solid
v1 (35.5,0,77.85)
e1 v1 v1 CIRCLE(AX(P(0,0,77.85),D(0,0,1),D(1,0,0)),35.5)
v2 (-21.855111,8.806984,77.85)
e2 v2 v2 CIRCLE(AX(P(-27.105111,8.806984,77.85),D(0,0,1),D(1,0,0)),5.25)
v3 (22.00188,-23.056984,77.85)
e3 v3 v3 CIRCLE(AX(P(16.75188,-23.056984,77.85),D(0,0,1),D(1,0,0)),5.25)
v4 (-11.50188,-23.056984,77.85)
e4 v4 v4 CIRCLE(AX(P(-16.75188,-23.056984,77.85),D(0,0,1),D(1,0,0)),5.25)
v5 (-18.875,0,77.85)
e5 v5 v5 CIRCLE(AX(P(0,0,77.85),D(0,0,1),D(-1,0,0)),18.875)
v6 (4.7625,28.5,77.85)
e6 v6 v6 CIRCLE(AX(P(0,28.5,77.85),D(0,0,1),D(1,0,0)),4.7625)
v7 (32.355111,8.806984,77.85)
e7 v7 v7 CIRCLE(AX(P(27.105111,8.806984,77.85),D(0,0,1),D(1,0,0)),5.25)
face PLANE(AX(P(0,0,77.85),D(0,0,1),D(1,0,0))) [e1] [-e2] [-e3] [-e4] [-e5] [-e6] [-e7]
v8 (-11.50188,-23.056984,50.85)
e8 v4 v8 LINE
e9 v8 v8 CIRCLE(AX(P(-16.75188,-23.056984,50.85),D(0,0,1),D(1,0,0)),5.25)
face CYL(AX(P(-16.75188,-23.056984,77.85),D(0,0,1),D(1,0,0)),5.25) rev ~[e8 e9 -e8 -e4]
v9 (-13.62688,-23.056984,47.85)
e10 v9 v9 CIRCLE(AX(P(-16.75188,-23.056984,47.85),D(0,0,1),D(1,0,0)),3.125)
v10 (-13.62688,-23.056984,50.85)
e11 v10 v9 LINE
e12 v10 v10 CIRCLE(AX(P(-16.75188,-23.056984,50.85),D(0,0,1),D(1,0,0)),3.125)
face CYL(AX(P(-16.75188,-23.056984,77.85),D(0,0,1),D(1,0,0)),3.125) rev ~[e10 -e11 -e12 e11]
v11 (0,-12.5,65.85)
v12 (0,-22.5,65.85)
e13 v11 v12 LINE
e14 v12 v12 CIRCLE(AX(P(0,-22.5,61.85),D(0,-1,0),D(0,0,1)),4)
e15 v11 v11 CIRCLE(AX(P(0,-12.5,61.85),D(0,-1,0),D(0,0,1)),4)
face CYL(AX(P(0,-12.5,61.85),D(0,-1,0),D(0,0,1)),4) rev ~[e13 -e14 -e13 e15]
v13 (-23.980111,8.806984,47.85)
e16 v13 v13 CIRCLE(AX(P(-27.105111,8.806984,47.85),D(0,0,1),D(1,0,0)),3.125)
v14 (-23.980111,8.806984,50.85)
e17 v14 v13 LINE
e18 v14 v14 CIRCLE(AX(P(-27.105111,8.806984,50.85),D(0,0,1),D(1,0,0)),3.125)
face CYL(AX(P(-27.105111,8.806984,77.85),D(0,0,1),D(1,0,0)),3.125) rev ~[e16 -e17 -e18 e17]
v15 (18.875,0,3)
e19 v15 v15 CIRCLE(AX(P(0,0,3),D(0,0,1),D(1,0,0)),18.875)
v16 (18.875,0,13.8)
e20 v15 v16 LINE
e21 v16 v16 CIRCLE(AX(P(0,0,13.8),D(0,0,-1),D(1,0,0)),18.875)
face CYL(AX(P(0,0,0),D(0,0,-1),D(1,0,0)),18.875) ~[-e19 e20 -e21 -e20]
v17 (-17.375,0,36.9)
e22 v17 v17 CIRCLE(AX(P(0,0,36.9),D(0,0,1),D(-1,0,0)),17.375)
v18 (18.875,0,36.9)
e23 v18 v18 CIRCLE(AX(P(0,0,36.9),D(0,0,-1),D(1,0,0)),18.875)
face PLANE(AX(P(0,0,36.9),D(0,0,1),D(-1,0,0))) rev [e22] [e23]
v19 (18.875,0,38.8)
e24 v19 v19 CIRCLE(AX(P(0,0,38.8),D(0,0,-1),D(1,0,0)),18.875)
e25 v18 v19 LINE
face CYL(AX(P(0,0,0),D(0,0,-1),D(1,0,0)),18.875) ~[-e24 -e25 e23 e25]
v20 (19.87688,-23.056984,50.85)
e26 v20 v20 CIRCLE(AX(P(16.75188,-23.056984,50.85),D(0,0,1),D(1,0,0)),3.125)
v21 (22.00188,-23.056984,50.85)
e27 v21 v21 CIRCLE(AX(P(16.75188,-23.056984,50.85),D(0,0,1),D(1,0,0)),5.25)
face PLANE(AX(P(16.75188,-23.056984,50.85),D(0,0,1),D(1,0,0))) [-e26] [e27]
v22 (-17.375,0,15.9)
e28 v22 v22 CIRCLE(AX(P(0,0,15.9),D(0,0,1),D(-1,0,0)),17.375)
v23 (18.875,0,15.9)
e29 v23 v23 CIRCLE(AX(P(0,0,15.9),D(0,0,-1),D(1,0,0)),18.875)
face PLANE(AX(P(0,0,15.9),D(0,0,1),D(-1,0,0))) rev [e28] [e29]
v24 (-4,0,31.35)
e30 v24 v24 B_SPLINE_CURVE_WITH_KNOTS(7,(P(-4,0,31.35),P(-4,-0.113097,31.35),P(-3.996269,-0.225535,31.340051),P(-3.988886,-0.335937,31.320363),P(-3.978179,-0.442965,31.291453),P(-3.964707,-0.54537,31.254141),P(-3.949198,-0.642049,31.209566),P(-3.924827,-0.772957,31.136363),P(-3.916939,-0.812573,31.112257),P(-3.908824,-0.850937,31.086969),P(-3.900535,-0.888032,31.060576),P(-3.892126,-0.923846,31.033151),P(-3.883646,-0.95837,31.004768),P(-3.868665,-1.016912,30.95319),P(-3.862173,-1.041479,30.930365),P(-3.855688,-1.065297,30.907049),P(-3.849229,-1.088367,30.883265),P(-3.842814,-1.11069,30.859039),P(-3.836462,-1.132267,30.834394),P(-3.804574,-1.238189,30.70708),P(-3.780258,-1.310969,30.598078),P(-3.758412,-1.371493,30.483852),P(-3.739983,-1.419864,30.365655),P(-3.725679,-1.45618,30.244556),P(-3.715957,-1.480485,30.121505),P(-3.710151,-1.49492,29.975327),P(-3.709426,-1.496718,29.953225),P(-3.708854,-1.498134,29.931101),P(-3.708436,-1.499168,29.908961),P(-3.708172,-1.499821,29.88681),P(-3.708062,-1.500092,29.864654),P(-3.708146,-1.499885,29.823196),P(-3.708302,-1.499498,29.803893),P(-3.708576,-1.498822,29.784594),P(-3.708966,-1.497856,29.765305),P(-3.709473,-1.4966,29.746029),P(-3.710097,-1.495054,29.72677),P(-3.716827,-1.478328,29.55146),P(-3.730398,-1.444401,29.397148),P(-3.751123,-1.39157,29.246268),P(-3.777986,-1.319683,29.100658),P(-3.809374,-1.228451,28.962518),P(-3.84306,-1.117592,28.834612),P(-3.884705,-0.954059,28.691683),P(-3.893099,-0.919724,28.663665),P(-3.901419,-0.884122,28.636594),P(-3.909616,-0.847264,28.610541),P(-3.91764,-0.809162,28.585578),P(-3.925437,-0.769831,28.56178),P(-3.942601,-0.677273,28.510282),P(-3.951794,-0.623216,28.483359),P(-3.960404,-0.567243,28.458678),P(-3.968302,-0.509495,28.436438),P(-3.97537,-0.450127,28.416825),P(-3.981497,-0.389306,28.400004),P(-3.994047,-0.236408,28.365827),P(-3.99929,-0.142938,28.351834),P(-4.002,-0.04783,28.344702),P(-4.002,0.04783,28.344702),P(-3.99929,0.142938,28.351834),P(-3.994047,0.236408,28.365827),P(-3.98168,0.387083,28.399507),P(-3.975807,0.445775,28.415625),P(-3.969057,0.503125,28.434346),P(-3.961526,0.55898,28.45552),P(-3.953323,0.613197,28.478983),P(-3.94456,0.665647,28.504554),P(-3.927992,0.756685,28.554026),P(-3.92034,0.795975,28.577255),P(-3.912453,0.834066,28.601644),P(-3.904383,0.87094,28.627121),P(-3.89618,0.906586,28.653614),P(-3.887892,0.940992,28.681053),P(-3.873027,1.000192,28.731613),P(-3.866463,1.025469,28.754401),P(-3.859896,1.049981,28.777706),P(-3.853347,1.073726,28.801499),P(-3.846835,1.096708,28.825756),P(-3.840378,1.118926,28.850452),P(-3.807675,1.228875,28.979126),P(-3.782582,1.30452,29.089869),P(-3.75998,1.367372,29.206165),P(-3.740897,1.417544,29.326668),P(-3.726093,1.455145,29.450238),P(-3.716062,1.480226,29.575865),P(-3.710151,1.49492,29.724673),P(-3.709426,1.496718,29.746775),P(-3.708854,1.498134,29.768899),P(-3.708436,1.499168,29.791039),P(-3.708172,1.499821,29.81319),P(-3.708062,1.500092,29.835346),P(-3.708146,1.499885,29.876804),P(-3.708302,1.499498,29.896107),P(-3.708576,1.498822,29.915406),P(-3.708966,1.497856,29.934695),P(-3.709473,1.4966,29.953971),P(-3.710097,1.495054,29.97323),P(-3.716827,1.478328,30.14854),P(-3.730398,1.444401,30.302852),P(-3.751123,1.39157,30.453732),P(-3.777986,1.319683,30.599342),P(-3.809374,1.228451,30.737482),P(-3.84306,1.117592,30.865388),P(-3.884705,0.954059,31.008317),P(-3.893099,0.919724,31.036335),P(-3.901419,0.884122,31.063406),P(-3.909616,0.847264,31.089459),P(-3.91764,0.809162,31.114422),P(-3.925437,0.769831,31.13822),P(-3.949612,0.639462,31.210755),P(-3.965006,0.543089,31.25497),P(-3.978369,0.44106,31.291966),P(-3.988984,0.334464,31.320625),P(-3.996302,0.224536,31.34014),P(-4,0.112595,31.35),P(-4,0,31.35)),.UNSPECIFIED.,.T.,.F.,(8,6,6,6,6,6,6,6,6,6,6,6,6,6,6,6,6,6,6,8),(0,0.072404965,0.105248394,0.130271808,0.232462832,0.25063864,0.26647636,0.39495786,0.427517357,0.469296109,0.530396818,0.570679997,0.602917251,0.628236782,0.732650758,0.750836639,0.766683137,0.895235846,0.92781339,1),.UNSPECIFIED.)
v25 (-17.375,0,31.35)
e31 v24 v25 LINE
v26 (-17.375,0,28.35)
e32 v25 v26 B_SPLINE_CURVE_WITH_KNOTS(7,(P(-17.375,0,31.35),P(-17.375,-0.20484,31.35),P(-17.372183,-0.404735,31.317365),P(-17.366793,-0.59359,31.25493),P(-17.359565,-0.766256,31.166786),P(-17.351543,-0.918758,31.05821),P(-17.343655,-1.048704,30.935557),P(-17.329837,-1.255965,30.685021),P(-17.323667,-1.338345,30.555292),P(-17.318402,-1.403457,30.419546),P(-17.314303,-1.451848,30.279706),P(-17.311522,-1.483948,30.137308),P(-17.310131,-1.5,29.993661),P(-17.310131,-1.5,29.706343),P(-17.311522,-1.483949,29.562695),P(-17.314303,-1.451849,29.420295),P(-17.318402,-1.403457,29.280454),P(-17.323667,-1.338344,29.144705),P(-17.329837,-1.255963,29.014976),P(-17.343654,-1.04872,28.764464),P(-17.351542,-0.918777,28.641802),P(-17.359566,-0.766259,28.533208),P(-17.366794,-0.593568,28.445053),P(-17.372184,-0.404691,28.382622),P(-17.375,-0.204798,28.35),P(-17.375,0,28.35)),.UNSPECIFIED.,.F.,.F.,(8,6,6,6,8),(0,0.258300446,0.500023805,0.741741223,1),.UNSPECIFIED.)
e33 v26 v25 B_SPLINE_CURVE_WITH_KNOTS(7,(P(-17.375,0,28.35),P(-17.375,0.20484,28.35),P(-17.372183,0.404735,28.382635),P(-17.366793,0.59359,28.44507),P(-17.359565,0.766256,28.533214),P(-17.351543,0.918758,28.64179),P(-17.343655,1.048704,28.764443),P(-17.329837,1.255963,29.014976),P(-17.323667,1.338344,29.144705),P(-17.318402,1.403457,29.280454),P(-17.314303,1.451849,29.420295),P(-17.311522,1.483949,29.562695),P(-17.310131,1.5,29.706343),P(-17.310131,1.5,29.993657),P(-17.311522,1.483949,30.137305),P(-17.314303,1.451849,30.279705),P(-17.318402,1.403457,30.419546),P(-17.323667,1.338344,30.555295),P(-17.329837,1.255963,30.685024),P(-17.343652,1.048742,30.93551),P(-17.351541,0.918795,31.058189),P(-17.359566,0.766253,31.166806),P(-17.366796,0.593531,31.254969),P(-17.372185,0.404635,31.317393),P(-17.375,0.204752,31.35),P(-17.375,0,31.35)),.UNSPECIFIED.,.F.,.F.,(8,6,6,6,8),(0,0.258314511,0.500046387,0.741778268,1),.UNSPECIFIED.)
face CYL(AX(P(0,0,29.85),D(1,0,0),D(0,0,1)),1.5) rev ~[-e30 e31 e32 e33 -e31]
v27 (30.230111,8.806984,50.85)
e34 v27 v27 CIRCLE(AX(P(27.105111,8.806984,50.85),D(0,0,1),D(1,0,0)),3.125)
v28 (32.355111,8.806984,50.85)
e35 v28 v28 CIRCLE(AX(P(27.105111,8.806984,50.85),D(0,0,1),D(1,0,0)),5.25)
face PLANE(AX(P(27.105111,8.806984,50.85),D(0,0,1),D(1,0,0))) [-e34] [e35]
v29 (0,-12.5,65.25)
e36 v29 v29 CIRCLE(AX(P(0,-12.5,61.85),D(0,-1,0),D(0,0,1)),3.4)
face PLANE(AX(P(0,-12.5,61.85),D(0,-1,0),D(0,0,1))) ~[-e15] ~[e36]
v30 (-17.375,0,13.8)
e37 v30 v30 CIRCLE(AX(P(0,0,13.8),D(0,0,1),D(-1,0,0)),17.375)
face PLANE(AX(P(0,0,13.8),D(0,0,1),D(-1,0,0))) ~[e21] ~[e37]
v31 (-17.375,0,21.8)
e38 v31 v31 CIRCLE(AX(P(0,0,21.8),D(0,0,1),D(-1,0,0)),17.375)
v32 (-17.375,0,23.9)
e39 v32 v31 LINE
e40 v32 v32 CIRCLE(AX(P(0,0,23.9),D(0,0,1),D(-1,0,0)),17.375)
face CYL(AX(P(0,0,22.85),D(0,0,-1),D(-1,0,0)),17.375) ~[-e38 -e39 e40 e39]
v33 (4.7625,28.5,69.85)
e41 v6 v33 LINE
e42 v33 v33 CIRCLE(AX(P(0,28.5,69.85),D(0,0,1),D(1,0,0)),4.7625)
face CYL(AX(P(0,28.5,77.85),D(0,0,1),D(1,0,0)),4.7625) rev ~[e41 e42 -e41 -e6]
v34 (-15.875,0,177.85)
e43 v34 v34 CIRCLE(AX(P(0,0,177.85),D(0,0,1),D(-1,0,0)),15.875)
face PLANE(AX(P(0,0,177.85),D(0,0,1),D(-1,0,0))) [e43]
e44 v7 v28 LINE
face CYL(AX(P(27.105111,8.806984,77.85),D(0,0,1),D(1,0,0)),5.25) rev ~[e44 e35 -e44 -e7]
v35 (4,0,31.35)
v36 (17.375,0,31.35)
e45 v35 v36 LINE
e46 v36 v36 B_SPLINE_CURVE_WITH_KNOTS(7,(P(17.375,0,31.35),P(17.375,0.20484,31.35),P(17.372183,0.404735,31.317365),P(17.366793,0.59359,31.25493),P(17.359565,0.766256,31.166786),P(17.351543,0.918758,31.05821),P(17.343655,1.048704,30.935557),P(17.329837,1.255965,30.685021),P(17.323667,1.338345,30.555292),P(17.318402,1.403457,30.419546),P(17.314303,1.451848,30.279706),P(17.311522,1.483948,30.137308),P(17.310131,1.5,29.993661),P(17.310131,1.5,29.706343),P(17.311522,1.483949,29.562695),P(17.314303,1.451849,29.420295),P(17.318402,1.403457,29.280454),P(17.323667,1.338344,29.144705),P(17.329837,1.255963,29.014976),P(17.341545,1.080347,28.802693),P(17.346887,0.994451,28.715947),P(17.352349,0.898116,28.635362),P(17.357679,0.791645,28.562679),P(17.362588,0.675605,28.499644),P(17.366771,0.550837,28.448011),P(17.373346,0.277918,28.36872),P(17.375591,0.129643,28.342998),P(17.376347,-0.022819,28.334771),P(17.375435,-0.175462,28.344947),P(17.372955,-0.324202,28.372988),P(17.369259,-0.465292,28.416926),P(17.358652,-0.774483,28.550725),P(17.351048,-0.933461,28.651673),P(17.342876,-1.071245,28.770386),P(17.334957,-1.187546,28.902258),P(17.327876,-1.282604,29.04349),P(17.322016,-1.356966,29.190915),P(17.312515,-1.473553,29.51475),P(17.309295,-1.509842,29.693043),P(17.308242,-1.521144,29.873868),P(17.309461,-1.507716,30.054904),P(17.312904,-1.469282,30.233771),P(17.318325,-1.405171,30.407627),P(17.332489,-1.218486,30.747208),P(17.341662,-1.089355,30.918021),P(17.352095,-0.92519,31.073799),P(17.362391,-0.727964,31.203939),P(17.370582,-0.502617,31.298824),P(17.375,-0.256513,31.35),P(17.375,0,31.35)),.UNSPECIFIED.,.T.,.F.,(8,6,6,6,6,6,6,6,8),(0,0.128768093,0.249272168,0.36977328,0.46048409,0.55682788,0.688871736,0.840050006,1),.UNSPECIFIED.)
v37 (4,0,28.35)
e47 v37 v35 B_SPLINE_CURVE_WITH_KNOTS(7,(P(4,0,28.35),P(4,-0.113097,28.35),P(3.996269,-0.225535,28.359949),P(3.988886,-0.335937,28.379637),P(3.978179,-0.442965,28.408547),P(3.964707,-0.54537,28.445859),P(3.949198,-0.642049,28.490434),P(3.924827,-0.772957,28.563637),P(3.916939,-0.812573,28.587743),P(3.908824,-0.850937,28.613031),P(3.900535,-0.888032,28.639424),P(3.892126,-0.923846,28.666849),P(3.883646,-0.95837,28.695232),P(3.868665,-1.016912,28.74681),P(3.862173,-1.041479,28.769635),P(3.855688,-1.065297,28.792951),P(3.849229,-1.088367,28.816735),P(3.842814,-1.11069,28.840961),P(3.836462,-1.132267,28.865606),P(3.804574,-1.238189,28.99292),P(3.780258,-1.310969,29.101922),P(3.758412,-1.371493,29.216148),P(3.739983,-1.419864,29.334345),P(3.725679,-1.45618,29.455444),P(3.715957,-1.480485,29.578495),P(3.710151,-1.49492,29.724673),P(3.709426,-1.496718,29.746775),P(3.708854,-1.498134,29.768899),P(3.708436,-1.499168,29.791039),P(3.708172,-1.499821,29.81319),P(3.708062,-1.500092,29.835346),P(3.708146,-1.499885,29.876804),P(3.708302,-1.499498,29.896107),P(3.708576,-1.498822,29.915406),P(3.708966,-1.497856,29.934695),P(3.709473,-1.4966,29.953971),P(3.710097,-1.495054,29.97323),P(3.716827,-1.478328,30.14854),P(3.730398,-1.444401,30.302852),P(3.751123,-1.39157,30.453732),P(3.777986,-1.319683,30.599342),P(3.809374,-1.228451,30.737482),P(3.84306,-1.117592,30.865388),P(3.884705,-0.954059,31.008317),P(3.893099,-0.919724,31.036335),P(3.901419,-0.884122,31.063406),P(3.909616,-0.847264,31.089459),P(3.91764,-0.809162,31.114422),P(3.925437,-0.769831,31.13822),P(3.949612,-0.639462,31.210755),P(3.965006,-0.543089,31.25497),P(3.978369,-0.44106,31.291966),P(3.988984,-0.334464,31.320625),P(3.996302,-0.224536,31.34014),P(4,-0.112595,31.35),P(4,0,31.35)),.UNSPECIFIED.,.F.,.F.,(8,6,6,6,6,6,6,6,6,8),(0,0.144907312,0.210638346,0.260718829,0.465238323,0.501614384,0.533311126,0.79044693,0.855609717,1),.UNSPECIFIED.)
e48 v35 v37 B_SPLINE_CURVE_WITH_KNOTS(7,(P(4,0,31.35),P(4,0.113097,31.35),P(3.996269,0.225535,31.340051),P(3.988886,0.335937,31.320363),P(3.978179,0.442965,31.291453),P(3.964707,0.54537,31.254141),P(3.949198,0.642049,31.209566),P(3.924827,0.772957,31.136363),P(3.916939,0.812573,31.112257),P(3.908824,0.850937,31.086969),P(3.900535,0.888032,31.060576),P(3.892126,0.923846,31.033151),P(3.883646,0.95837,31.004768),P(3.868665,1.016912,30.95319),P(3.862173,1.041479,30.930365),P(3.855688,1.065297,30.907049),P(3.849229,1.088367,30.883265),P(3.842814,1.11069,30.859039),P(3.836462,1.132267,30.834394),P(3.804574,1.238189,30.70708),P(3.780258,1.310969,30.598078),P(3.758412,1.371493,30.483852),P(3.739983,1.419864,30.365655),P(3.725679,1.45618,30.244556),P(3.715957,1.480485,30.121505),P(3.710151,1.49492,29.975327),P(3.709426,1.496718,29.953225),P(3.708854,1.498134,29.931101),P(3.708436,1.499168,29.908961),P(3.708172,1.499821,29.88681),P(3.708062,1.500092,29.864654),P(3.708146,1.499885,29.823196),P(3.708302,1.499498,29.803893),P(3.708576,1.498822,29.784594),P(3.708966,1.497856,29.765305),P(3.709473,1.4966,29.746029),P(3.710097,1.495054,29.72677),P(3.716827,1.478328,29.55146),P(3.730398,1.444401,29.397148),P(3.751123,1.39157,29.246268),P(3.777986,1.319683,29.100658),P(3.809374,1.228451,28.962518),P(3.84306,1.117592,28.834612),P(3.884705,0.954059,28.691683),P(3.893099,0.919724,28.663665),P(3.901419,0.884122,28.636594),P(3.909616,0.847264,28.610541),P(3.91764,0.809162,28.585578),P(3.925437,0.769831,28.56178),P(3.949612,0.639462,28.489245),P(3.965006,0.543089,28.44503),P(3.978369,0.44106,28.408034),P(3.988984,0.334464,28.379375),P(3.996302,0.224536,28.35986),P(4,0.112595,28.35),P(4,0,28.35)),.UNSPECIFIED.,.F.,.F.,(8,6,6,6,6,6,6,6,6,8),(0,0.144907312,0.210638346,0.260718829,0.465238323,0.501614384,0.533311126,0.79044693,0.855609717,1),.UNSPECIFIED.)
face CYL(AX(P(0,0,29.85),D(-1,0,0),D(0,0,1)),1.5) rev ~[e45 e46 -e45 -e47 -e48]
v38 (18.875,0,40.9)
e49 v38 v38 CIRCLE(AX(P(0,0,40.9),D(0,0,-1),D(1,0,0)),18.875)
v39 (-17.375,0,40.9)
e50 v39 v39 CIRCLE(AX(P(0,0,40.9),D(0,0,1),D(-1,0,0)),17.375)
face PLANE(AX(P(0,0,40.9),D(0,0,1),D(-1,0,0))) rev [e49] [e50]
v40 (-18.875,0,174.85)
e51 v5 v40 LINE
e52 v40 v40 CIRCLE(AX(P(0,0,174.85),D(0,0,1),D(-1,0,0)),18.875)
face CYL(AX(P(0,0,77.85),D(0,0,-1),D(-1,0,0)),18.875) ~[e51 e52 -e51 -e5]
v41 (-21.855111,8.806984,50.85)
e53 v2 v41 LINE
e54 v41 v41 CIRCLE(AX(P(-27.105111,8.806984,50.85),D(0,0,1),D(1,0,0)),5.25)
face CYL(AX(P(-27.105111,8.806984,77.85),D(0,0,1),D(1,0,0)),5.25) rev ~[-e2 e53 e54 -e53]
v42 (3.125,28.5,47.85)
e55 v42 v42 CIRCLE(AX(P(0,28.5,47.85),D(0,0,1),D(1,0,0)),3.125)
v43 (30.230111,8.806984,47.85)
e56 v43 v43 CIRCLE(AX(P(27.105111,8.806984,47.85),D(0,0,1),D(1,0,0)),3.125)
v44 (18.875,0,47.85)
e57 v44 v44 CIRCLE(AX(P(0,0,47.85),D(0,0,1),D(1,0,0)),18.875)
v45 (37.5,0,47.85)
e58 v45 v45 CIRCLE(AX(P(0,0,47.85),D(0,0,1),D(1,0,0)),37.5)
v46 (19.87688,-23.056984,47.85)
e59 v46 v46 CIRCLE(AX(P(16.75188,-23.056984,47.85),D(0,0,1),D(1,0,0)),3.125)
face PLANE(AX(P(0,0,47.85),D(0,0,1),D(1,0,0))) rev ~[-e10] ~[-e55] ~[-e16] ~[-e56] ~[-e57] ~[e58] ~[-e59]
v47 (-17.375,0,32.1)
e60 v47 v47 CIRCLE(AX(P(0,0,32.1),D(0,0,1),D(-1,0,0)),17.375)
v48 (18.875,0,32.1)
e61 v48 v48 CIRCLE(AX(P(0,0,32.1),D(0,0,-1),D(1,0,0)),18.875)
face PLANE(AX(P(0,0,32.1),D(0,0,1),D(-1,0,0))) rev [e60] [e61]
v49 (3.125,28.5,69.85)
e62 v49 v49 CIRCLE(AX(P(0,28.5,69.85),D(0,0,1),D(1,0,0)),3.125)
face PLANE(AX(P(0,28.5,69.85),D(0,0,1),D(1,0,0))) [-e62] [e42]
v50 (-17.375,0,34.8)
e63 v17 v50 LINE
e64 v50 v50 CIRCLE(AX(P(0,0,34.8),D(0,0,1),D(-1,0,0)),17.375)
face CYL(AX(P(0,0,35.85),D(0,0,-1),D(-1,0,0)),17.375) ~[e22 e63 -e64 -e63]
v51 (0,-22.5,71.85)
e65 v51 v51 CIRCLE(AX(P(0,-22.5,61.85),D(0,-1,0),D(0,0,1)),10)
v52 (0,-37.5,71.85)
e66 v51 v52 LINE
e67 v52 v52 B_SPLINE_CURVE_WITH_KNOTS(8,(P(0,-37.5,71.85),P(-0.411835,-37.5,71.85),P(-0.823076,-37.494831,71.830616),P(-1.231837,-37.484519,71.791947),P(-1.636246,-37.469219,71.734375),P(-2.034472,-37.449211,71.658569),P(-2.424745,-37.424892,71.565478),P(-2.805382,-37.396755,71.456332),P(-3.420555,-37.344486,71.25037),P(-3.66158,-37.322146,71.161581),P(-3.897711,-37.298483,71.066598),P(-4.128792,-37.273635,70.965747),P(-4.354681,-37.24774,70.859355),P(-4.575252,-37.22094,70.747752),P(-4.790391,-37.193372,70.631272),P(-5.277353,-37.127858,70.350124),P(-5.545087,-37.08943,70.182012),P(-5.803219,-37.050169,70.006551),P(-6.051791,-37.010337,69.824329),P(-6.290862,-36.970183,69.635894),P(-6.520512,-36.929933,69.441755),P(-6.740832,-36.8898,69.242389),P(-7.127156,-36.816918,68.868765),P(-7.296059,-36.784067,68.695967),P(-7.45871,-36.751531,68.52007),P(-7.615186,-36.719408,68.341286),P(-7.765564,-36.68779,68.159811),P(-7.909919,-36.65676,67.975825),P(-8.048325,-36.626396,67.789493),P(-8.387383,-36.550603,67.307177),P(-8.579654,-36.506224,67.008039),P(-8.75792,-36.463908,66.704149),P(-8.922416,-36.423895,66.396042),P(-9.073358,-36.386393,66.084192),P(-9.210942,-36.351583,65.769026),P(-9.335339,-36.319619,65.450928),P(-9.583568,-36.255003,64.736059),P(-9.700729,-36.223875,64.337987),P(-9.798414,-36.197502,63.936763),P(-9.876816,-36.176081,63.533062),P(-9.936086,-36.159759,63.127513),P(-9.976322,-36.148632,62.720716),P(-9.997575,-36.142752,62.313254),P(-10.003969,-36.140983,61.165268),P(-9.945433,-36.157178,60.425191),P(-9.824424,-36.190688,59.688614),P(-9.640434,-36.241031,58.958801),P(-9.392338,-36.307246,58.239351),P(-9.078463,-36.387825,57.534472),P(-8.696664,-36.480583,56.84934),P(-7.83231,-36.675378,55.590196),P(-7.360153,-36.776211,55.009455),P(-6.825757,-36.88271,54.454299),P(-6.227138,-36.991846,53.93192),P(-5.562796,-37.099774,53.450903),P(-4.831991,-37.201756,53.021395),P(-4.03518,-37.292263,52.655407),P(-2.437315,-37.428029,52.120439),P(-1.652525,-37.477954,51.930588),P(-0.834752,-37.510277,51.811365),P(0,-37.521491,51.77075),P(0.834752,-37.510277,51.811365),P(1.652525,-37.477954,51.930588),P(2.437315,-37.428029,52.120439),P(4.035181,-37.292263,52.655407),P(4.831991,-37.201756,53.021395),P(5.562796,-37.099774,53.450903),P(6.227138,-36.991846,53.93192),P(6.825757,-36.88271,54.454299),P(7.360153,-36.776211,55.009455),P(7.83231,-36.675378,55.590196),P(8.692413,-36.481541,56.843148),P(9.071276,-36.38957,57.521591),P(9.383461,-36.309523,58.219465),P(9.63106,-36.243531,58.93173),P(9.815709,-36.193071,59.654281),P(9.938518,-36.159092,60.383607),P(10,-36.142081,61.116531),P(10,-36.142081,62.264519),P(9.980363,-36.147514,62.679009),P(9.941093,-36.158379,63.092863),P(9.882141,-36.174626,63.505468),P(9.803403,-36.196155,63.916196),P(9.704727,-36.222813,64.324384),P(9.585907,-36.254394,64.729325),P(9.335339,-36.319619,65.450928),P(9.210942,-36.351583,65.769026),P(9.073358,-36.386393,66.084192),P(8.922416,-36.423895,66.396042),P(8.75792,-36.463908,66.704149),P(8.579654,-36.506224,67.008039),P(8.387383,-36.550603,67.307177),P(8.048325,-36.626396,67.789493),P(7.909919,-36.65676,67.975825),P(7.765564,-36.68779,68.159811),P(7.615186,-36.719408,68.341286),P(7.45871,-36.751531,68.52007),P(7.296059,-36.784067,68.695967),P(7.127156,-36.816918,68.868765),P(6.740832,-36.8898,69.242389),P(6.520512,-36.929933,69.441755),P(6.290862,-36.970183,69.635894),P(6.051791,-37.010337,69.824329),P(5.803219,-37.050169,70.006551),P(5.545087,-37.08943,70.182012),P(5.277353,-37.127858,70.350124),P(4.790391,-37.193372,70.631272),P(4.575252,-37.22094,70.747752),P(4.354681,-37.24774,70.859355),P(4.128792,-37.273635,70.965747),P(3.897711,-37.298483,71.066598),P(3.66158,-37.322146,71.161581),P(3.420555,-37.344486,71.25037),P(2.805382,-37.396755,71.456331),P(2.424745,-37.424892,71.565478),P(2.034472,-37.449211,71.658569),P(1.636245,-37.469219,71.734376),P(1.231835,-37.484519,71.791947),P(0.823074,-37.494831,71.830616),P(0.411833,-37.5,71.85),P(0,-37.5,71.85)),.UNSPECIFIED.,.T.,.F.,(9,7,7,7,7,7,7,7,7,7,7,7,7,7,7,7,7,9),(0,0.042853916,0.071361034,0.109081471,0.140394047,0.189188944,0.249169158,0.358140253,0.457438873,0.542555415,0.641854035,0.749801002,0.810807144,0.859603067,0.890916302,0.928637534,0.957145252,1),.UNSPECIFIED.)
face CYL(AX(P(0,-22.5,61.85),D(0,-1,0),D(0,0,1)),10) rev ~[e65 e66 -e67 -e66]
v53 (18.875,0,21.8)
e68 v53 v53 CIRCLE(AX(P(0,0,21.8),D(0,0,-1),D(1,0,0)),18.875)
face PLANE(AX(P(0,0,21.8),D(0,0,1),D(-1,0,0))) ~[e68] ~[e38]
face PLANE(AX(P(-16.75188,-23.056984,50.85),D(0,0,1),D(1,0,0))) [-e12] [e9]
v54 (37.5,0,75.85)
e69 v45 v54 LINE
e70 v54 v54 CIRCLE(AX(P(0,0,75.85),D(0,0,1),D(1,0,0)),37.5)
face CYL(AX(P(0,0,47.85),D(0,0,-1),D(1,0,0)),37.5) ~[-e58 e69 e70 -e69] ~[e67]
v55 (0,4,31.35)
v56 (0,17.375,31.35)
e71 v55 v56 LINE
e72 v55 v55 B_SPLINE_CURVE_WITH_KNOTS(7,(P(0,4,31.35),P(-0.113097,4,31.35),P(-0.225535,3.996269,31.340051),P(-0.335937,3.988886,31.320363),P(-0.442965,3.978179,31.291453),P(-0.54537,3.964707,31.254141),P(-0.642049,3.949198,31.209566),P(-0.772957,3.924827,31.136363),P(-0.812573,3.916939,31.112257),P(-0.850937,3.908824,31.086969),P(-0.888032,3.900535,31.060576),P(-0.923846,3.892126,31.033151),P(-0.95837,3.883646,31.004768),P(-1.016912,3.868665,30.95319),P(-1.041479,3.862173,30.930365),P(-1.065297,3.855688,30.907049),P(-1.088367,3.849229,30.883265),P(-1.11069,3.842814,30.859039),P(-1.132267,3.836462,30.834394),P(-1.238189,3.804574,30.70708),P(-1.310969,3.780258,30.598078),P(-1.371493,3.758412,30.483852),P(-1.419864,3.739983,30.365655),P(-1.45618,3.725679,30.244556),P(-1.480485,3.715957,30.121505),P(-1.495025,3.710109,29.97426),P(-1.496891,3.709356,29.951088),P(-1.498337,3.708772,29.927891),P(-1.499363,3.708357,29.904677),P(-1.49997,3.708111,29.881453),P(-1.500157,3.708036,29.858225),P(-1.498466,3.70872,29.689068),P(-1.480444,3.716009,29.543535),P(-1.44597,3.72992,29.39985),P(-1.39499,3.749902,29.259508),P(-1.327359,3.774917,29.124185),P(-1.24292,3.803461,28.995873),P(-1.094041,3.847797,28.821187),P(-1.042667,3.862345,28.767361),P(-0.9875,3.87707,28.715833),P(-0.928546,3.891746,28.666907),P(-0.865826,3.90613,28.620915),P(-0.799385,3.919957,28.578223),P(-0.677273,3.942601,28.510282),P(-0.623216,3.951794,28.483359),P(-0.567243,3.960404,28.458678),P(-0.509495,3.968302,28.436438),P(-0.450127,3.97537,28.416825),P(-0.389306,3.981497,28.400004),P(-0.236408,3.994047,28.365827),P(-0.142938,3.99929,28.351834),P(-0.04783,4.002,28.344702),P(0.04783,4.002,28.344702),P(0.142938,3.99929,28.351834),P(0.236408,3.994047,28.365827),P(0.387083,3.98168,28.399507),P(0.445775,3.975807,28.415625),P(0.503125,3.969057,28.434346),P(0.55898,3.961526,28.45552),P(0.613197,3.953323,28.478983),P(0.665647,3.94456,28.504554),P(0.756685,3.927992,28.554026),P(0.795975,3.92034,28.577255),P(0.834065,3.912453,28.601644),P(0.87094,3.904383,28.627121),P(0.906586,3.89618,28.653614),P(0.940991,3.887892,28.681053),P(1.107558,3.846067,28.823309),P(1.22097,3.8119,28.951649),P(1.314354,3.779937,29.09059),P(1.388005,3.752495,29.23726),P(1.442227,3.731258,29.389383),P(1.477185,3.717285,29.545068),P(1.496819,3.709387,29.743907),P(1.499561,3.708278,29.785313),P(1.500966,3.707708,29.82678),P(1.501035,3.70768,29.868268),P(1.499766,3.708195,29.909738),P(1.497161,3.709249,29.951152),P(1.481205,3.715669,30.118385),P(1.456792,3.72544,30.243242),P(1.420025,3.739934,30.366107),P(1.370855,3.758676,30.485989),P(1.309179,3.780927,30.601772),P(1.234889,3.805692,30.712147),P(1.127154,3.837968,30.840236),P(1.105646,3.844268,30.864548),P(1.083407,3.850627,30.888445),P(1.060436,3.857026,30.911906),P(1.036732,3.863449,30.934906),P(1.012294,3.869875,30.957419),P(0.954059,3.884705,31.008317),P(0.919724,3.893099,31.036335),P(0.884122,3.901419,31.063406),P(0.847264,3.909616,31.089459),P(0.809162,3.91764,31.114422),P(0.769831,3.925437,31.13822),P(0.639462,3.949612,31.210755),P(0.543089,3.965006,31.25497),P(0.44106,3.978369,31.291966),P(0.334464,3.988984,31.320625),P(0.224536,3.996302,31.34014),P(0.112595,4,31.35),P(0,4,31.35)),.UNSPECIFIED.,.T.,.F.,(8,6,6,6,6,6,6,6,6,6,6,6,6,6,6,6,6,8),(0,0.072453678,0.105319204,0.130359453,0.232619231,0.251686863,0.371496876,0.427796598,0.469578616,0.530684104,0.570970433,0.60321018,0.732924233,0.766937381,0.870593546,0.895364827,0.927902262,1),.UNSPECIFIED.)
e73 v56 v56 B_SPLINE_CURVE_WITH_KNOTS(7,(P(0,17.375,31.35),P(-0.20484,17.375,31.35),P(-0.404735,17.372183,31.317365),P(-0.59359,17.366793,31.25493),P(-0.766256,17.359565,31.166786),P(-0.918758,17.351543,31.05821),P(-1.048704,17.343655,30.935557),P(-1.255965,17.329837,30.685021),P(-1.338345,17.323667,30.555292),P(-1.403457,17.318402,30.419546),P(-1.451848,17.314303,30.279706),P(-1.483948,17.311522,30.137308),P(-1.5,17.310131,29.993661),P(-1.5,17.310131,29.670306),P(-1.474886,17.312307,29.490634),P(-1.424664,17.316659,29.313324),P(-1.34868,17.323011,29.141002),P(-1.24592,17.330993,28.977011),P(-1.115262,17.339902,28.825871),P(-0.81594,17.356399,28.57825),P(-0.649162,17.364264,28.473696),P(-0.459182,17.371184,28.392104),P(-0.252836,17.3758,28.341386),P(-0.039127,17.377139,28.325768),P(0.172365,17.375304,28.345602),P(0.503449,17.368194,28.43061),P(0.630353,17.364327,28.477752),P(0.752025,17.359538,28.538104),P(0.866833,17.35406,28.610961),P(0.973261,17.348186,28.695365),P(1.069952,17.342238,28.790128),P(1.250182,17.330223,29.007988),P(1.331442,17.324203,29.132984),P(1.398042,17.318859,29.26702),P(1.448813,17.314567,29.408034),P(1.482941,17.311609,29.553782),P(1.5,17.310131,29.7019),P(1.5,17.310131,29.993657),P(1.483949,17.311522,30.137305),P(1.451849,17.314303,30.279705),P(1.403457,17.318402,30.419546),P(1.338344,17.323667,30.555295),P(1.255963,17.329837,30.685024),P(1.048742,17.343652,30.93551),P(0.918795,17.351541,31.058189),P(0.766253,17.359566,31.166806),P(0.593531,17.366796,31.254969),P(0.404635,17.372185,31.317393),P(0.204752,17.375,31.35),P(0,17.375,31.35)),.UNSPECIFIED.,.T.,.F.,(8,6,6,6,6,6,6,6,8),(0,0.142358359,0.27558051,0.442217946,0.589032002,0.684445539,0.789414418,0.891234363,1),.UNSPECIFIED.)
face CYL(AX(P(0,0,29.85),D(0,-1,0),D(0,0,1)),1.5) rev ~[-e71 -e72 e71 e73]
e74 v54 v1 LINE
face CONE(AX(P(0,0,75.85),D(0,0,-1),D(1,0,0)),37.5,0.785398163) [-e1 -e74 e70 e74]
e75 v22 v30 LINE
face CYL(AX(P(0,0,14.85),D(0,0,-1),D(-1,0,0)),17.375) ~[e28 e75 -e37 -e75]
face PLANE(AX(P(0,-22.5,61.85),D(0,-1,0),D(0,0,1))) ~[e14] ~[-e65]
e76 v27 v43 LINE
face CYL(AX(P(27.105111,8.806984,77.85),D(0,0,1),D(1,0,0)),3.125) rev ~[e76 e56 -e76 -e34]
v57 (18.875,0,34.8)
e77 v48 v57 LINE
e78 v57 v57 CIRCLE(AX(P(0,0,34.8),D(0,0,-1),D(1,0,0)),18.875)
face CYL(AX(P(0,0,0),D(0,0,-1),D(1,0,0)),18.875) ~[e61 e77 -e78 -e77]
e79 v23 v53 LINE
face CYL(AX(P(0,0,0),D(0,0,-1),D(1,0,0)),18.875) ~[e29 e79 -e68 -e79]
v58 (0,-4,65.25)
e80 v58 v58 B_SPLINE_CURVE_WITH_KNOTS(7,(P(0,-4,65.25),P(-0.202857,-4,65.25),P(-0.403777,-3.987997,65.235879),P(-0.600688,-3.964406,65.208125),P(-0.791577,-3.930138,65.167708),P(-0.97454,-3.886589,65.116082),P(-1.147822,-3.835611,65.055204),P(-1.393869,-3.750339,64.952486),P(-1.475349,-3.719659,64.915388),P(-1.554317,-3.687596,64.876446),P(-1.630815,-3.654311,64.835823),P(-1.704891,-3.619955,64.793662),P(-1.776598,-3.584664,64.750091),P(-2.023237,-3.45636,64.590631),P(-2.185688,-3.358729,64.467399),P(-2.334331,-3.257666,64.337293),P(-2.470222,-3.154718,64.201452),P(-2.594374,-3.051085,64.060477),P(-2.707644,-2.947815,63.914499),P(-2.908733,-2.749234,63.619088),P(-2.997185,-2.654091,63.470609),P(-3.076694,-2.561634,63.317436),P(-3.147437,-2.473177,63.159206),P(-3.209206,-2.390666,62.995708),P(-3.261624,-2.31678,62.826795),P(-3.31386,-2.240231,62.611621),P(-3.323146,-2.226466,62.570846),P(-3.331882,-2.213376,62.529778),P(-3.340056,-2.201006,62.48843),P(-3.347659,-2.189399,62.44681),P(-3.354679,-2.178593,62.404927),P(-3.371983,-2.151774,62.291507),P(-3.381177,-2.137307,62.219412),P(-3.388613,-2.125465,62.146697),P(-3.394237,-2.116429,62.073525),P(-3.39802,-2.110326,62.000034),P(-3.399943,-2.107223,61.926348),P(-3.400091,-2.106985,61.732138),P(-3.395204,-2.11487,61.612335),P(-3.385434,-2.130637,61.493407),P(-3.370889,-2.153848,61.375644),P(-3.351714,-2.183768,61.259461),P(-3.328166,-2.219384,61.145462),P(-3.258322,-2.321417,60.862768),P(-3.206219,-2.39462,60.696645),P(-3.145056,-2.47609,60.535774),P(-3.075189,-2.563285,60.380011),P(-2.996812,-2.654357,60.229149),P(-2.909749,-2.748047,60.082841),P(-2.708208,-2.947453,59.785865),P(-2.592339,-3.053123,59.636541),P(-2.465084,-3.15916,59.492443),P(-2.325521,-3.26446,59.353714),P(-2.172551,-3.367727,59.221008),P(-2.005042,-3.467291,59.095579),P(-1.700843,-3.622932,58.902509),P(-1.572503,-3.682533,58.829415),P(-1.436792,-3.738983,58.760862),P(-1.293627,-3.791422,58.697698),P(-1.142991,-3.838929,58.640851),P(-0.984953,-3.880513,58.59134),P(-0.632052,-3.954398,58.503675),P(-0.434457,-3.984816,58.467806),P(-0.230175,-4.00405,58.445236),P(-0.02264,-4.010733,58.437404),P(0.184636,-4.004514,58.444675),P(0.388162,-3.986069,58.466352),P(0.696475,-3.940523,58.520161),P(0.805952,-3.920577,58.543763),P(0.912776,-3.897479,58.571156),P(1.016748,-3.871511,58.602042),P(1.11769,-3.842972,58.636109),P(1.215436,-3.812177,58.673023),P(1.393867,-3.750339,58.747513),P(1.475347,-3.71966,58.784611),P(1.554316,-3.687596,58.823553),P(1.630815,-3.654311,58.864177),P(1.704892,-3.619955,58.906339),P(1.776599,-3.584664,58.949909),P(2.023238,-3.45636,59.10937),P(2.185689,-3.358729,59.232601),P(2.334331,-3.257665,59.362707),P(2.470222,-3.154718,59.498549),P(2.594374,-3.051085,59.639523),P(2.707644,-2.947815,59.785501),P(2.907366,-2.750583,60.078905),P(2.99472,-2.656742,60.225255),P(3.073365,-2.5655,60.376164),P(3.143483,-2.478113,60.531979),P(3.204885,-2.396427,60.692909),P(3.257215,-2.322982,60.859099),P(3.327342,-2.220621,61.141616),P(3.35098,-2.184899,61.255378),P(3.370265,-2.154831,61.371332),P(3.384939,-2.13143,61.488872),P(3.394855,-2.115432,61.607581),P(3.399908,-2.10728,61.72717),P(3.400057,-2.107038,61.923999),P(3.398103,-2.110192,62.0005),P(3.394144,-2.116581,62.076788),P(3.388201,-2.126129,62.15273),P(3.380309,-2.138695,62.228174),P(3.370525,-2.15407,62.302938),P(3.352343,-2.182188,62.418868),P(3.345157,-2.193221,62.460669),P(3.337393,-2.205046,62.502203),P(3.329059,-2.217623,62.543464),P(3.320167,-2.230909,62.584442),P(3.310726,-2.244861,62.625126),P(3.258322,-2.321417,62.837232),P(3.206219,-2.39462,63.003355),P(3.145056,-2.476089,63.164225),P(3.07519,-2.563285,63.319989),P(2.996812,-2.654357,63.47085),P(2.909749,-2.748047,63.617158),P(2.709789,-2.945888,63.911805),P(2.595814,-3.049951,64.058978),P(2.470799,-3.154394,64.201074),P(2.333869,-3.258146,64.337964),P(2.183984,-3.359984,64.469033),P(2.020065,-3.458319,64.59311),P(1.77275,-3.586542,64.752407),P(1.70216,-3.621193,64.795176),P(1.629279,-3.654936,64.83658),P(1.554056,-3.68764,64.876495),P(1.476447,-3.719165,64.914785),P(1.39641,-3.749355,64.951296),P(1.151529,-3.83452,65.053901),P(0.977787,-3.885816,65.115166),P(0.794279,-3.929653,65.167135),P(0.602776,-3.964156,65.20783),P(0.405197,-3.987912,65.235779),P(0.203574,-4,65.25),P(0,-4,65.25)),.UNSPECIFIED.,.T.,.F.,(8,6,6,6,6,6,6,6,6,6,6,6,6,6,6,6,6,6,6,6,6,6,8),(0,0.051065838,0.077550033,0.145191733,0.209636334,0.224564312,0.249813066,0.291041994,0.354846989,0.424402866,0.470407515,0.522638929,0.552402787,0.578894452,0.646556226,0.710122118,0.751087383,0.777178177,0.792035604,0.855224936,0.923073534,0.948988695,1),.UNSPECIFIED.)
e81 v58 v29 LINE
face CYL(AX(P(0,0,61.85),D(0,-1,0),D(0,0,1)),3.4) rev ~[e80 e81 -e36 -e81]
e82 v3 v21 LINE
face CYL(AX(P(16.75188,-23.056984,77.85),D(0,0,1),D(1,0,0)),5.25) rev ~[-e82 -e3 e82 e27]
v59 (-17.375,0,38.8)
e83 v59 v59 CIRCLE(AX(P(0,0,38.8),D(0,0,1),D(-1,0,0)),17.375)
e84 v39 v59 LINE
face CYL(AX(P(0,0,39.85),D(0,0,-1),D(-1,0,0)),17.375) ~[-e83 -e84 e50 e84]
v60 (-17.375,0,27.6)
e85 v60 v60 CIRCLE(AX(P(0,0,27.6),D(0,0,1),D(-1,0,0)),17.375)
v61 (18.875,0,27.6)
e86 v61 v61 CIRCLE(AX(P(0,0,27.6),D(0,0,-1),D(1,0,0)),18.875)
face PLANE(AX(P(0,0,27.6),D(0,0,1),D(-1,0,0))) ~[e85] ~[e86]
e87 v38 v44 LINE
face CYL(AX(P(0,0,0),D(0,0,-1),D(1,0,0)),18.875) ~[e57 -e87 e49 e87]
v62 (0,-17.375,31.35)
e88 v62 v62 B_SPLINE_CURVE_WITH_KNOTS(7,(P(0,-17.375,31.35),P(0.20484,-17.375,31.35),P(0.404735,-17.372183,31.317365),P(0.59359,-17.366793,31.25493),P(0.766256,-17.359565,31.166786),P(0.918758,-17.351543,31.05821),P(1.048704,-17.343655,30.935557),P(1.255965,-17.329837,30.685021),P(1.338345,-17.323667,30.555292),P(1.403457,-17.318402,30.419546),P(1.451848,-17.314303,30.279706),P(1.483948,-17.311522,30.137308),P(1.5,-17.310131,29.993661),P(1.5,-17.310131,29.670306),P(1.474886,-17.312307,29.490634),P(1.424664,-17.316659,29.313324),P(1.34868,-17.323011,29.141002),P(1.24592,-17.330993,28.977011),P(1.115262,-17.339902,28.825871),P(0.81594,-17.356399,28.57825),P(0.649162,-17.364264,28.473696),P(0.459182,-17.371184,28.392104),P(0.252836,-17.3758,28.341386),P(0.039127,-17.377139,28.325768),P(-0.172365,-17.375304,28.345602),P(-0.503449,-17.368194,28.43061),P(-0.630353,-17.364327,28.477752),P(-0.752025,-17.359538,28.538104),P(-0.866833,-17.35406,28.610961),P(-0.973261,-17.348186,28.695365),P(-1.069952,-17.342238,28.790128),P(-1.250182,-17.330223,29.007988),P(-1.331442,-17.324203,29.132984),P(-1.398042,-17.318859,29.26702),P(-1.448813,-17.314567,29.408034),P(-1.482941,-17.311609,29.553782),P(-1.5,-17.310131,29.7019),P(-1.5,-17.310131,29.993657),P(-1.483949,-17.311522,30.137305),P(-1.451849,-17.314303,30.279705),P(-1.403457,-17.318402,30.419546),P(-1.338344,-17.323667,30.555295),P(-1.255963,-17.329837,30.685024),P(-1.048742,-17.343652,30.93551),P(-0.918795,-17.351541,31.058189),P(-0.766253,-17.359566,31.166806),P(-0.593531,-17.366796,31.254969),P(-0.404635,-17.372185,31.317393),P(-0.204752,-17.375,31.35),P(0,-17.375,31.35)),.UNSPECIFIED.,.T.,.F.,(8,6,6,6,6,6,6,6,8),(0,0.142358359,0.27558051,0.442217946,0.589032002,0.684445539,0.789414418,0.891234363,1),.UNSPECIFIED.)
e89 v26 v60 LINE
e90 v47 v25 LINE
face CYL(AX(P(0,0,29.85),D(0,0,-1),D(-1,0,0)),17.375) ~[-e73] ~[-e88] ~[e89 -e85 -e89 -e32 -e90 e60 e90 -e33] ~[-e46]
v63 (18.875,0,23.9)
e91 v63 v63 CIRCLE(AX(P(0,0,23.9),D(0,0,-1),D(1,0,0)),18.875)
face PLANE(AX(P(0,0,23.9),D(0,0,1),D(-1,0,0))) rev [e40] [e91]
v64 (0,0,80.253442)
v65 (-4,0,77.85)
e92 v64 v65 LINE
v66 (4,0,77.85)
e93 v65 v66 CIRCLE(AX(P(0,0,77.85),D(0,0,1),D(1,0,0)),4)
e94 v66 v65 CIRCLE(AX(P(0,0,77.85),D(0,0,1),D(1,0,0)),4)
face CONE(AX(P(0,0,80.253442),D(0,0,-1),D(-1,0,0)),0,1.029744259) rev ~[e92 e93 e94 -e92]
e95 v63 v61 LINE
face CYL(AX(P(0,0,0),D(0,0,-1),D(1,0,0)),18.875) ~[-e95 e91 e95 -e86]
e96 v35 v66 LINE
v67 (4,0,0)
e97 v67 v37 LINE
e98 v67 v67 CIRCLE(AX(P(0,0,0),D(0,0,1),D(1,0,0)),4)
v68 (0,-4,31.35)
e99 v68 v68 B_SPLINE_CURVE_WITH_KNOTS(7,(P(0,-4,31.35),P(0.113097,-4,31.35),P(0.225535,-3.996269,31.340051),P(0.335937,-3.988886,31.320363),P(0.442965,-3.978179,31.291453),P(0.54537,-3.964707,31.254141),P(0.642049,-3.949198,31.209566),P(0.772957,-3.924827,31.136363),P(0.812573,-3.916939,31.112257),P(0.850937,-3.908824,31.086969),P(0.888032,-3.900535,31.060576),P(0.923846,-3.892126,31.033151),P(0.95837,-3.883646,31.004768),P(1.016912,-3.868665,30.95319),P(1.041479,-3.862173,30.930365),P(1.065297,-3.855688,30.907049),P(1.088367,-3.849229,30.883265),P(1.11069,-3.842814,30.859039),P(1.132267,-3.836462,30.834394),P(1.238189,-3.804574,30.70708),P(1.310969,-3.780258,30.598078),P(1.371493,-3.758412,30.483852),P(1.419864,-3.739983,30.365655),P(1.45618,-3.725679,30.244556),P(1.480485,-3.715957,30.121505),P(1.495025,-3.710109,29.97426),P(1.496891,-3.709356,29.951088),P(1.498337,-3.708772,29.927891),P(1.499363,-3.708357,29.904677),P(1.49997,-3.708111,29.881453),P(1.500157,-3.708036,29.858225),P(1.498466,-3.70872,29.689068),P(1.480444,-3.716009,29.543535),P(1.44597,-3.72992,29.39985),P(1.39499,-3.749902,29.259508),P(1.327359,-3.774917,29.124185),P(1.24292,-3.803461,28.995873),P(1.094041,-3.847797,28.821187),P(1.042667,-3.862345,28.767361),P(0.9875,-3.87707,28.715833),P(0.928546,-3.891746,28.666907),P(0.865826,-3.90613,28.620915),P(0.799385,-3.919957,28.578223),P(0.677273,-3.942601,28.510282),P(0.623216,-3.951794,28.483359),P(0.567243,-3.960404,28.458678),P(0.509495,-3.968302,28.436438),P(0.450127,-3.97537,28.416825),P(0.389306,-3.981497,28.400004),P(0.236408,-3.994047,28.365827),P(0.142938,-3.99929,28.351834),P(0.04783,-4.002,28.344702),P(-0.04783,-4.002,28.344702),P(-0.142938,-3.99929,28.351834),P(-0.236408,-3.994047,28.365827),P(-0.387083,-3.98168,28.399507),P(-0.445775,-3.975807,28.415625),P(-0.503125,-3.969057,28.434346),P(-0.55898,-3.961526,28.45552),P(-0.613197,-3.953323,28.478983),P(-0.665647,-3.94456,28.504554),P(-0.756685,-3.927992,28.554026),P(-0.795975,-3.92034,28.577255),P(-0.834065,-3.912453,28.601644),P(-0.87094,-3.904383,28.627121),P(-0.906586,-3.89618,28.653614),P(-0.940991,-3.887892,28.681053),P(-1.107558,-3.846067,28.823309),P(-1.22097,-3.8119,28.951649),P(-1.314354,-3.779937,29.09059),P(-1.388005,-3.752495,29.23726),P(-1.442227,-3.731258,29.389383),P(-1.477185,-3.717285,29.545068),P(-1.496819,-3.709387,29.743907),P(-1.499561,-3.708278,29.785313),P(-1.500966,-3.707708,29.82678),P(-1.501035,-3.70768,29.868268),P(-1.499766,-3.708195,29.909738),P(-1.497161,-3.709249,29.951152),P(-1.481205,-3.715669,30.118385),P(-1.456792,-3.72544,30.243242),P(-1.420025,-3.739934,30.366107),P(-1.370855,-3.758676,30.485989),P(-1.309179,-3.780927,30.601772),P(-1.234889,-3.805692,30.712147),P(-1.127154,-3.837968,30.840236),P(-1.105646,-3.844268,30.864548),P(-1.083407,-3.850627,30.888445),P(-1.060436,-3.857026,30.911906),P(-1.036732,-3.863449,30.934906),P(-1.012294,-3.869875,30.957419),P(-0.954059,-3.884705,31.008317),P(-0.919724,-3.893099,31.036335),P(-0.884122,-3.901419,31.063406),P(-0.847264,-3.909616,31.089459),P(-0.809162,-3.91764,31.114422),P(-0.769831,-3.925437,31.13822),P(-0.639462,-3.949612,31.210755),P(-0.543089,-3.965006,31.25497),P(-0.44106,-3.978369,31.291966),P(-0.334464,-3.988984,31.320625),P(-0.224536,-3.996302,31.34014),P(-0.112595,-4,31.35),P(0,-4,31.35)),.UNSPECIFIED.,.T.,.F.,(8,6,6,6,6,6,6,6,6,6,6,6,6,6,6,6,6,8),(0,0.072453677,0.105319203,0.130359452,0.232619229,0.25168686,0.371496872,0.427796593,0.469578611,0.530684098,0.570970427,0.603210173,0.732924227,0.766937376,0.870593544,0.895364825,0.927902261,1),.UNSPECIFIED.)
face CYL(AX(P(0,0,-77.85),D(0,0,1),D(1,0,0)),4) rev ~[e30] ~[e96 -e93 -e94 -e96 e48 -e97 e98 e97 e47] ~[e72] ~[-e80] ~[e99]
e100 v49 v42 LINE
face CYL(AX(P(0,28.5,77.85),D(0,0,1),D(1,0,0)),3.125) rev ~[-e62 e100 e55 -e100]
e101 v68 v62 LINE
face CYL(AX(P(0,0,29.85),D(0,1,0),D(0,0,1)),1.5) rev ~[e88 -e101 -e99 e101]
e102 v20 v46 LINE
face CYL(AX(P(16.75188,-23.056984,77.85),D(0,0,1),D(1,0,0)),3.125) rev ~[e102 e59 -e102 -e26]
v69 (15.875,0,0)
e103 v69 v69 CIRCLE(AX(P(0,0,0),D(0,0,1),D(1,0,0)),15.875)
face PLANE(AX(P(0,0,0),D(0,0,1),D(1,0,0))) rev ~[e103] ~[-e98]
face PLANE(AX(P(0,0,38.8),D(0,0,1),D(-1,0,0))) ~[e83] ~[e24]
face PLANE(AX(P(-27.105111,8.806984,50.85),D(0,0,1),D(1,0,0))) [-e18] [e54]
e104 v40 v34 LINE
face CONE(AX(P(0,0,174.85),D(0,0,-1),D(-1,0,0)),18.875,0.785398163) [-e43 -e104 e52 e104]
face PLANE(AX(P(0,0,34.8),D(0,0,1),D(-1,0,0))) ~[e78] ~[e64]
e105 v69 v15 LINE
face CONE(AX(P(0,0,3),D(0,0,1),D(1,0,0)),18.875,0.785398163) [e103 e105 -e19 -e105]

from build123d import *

# Parameters (mm, degrees)
SKETCH1_R                 = 18.875
BOSS_EXTRUDE1_DEPTH       = 47.85
SKETCH2_R                 = 37.5
BOSS_EXTRUDE2_DEPTH       = 30
SKETCH11_R                = 3.125
CUT_EXTRUDE4_DEPTH        = 30
SKETCH12_R                = 4.7625
CUT_EXTRUDE5_DEPTH        = 8
SKETCH13_W                = 2.1
SKETCH13_H                = 3
SKETCH13_W_2              = 4.5
SKETCH13_H_2              = 2.2
SKETCH18_R                = 3.125
CUT_EXTRUDE8_DEPTH        = 30
SKETCH19_R                = 5.25
CUT_EXTRUDE9_DEPTH        = 27
CHAMFER1_SIZE             = 2
SKETCH20_R                = 18.875
BOSS_EXTRUDE3_DEPTH       = 100
F_8_0MM_DOWEL_HOLE1_D     = 8
F_8_0MM_DOWEL_HOLE1_DEPTH = 77.85
F_8_0MM_DOWEL_HOLE1_TIP   = 2.403442476
CHAMFER2_SIZE             = 3
SKETCH26_R                = 1.5
CUT_EXTRUDE10_DEPTH       = 186.58858401
CIRPATTERN1_COUNT         = 4


with BuildPart() as part:
    # Sketch1 → Boss-Extrude1 (new body)
    with BuildSketch(Plane.XY):
        Circle(SKETCH1_R)
    extrude(amount=BOSS_EXTRUDE1_DEPTH)

    # Sketch2 → Boss-Extrude2 (add)
    with BuildSketch(Plane.XY.offset(47.85)):
        Circle(SKETCH2_R)
    extrude(amount=BOSS_EXTRUDE2_DEPTH)

    # Sketch11 → Cut-Extrude4 (cut)
    with BuildSketch(Plane.XY.offset(77.85)):
        with Locations((0, 28.5)):
            Circle(SKETCH11_R)
    extrude(amount=-CUT_EXTRUDE4_DEPTH, mode=Mode.SUBTRACT)

    # Sketch12 → Cut-Extrude5 (cut)
    with BuildSketch(Plane.XY.offset(77.85)):
        with Locations((0, 28.5)):
            Circle(SKETCH12_R)
    extrude(amount=-CUT_EXTRUDE5_DEPTH, mode=Mode.SUBTRACT)

    # Sketch13 → Cut-Revolve1 (revolve, cut)
    with BuildSketch(Plane(origin=(0, 0, 0), x_dir=(0, 0, -1), z_dir=(1, 0, 0)), mode=Mode.PRIVATE) as cut_revolve1_sk:
        with Locations((-14.85, 18.875)):
            Rectangle(SKETCH13_W, SKETCH13_H)
        with Locations((-22.85, 18.875)):
            Rectangle(SKETCH13_W, SKETCH13_H)
        with Locations((-35.85, 18.875)):
            Rectangle(SKETCH13_W, SKETCH13_H)
        with Locations((-39.85, 18.875)):
            Rectangle(SKETCH13_W, SKETCH13_H)
        with Locations((-29.85, 18.475)):
            Rectangle(SKETCH13_W_2, SKETCH13_H_2)
    revolve(cut_revolve1_sk.sketch.rotate(Axis((0, 0, 0), (0, 0, 1)), 90), axis=Axis((0, 0, 0), (0, 0, 1)), mode=Mode.SUBTRACT)

    # Sketch18 → Cut-Extrude8 (cut)
    with BuildSketch(Plane.XY.offset(77.85)):
        with Locations((27.105110714, 8.80698434)):
            Circle(SKETCH18_R)
        with Locations((16.75187969, -23.05698434)):
            Circle(SKETCH18_R)
        with Locations((-16.75187969, -23.05698434)):
            Circle(SKETCH18_R)
        with Locations((-27.105110714, 8.80698434)):
            Circle(SKETCH18_R)
    extrude(amount=-CUT_EXTRUDE8_DEPTH, mode=Mode.SUBTRACT)

    # Sketch19 → Cut-Extrude9 (cut)
    with BuildSketch(Plane.XY.offset(77.85)):
        with Locations((27.105110714, 8.80698434)):
            Circle(SKETCH19_R)
        with Locations((16.75187969, -23.05698434)):
            Circle(SKETCH19_R)
        with Locations((-16.75187969, -23.05698434)):
            Circle(SKETCH19_R)
        with Locations((-27.105110714, 8.80698434)):
            Circle(SKETCH19_R)
    extrude(amount=-CUT_EXTRUDE9_DEPTH, mode=Mode.SUBTRACT)

    # Chamfer1
    chamfer1_edges = [part.edges().sort_by_distance(p)[0] for p in [
        (-37.5, 0, 77.85),
    ]]
    chamfer(chamfer1_edges, length=CHAMFER1_SIZE)

    # Sketch20 → Boss-Extrude3 (add)
    with BuildSketch(Plane.XY.offset(77.85)):
        with Locations(Location((0, 0, 0), (0, 0, 180))):
            Circle(SKETCH20_R)
    extrude(amount=BOSS_EXTRUDE3_DEPTH)

    # Ø8.0mm Dowel Hole1
    with Locations(Plane(origin=(0, 0, 0), x_dir=(-1, 0, 0), z_dir=(0, 0, -1))):
        with Locations((0, 0)):
            Hole(F_8_0MM_DOWEL_HOLE1_D / 2, depth=F_8_0MM_DOWEL_HOLE1_DEPTH)
            with Locations((0, 0, -(F_8_0MM_DOWEL_HOLE1_DEPTH + F_8_0MM_DOWEL_HOLE1_TIP / 2))):  # 118° drill point
                Cone(0, F_8_0MM_DOWEL_HOLE1_D / 2, F_8_0MM_DOWEL_HOLE1_TIP, mode=Mode.SUBTRACT)

    # Sketch25 → Cut-Revolve2 (revolve, cut)
    with BuildSketch(Plane(origin=(0, 0, 0), x_dir=(0, 0, -1), z_dir=(1, 0, 0))):
        Polygon((-65.25, 0), (-65.25, -12.5), (-65.85, -12.5), (-65.85, -22.5), (-71.85, -22.5), (-71.85, -41.115481675), (-61.85, -41.115481675), (-61.85, 0), align=None)
    revolve(axis=Axis((0, 37.5, 61.85), (0, -1, 0)), mode=Mode.SUBTRACT)

    # Chamfer2
    chamfer2_edges = [part.edges().sort_by_distance(p)[0] for p in [
        (18.875, 0, 177.85),
        (-18.875, 0, 0),
    ]]
    chamfer(chamfer2_edges, length=CHAMFER2_SIZE)

    # Sketch26 → Cut-Extrude10 (cut, through all)
    with BuildSketch(Plane(origin=(0, 0, 0), x_dir=(1, 0, 0), z_dir=(0, 1, 0))):
        with Locations(Location((0, -29.85, 0), (0, 0, 270))):
            Circle(SKETCH26_R)
    cut_extrude10 = extrude(amount=-CUT_EXTRUDE10_DEPTH, mode=Mode.SUBTRACT)

    # CirPattern1: Cut-Extrude10 ×4 about axis
    cirpattern1_axis = Axis((0, 0, 27.6), (0, 0, -1))
    for i in range(1, CIRPATTERN1_COUNT):
        add(cut_extrude10.rotate(cirpattern1_axis, i * 360 / CIRPATTERN1_COUNT), mode=Mode.SUBTRACT)


solid = part.part
